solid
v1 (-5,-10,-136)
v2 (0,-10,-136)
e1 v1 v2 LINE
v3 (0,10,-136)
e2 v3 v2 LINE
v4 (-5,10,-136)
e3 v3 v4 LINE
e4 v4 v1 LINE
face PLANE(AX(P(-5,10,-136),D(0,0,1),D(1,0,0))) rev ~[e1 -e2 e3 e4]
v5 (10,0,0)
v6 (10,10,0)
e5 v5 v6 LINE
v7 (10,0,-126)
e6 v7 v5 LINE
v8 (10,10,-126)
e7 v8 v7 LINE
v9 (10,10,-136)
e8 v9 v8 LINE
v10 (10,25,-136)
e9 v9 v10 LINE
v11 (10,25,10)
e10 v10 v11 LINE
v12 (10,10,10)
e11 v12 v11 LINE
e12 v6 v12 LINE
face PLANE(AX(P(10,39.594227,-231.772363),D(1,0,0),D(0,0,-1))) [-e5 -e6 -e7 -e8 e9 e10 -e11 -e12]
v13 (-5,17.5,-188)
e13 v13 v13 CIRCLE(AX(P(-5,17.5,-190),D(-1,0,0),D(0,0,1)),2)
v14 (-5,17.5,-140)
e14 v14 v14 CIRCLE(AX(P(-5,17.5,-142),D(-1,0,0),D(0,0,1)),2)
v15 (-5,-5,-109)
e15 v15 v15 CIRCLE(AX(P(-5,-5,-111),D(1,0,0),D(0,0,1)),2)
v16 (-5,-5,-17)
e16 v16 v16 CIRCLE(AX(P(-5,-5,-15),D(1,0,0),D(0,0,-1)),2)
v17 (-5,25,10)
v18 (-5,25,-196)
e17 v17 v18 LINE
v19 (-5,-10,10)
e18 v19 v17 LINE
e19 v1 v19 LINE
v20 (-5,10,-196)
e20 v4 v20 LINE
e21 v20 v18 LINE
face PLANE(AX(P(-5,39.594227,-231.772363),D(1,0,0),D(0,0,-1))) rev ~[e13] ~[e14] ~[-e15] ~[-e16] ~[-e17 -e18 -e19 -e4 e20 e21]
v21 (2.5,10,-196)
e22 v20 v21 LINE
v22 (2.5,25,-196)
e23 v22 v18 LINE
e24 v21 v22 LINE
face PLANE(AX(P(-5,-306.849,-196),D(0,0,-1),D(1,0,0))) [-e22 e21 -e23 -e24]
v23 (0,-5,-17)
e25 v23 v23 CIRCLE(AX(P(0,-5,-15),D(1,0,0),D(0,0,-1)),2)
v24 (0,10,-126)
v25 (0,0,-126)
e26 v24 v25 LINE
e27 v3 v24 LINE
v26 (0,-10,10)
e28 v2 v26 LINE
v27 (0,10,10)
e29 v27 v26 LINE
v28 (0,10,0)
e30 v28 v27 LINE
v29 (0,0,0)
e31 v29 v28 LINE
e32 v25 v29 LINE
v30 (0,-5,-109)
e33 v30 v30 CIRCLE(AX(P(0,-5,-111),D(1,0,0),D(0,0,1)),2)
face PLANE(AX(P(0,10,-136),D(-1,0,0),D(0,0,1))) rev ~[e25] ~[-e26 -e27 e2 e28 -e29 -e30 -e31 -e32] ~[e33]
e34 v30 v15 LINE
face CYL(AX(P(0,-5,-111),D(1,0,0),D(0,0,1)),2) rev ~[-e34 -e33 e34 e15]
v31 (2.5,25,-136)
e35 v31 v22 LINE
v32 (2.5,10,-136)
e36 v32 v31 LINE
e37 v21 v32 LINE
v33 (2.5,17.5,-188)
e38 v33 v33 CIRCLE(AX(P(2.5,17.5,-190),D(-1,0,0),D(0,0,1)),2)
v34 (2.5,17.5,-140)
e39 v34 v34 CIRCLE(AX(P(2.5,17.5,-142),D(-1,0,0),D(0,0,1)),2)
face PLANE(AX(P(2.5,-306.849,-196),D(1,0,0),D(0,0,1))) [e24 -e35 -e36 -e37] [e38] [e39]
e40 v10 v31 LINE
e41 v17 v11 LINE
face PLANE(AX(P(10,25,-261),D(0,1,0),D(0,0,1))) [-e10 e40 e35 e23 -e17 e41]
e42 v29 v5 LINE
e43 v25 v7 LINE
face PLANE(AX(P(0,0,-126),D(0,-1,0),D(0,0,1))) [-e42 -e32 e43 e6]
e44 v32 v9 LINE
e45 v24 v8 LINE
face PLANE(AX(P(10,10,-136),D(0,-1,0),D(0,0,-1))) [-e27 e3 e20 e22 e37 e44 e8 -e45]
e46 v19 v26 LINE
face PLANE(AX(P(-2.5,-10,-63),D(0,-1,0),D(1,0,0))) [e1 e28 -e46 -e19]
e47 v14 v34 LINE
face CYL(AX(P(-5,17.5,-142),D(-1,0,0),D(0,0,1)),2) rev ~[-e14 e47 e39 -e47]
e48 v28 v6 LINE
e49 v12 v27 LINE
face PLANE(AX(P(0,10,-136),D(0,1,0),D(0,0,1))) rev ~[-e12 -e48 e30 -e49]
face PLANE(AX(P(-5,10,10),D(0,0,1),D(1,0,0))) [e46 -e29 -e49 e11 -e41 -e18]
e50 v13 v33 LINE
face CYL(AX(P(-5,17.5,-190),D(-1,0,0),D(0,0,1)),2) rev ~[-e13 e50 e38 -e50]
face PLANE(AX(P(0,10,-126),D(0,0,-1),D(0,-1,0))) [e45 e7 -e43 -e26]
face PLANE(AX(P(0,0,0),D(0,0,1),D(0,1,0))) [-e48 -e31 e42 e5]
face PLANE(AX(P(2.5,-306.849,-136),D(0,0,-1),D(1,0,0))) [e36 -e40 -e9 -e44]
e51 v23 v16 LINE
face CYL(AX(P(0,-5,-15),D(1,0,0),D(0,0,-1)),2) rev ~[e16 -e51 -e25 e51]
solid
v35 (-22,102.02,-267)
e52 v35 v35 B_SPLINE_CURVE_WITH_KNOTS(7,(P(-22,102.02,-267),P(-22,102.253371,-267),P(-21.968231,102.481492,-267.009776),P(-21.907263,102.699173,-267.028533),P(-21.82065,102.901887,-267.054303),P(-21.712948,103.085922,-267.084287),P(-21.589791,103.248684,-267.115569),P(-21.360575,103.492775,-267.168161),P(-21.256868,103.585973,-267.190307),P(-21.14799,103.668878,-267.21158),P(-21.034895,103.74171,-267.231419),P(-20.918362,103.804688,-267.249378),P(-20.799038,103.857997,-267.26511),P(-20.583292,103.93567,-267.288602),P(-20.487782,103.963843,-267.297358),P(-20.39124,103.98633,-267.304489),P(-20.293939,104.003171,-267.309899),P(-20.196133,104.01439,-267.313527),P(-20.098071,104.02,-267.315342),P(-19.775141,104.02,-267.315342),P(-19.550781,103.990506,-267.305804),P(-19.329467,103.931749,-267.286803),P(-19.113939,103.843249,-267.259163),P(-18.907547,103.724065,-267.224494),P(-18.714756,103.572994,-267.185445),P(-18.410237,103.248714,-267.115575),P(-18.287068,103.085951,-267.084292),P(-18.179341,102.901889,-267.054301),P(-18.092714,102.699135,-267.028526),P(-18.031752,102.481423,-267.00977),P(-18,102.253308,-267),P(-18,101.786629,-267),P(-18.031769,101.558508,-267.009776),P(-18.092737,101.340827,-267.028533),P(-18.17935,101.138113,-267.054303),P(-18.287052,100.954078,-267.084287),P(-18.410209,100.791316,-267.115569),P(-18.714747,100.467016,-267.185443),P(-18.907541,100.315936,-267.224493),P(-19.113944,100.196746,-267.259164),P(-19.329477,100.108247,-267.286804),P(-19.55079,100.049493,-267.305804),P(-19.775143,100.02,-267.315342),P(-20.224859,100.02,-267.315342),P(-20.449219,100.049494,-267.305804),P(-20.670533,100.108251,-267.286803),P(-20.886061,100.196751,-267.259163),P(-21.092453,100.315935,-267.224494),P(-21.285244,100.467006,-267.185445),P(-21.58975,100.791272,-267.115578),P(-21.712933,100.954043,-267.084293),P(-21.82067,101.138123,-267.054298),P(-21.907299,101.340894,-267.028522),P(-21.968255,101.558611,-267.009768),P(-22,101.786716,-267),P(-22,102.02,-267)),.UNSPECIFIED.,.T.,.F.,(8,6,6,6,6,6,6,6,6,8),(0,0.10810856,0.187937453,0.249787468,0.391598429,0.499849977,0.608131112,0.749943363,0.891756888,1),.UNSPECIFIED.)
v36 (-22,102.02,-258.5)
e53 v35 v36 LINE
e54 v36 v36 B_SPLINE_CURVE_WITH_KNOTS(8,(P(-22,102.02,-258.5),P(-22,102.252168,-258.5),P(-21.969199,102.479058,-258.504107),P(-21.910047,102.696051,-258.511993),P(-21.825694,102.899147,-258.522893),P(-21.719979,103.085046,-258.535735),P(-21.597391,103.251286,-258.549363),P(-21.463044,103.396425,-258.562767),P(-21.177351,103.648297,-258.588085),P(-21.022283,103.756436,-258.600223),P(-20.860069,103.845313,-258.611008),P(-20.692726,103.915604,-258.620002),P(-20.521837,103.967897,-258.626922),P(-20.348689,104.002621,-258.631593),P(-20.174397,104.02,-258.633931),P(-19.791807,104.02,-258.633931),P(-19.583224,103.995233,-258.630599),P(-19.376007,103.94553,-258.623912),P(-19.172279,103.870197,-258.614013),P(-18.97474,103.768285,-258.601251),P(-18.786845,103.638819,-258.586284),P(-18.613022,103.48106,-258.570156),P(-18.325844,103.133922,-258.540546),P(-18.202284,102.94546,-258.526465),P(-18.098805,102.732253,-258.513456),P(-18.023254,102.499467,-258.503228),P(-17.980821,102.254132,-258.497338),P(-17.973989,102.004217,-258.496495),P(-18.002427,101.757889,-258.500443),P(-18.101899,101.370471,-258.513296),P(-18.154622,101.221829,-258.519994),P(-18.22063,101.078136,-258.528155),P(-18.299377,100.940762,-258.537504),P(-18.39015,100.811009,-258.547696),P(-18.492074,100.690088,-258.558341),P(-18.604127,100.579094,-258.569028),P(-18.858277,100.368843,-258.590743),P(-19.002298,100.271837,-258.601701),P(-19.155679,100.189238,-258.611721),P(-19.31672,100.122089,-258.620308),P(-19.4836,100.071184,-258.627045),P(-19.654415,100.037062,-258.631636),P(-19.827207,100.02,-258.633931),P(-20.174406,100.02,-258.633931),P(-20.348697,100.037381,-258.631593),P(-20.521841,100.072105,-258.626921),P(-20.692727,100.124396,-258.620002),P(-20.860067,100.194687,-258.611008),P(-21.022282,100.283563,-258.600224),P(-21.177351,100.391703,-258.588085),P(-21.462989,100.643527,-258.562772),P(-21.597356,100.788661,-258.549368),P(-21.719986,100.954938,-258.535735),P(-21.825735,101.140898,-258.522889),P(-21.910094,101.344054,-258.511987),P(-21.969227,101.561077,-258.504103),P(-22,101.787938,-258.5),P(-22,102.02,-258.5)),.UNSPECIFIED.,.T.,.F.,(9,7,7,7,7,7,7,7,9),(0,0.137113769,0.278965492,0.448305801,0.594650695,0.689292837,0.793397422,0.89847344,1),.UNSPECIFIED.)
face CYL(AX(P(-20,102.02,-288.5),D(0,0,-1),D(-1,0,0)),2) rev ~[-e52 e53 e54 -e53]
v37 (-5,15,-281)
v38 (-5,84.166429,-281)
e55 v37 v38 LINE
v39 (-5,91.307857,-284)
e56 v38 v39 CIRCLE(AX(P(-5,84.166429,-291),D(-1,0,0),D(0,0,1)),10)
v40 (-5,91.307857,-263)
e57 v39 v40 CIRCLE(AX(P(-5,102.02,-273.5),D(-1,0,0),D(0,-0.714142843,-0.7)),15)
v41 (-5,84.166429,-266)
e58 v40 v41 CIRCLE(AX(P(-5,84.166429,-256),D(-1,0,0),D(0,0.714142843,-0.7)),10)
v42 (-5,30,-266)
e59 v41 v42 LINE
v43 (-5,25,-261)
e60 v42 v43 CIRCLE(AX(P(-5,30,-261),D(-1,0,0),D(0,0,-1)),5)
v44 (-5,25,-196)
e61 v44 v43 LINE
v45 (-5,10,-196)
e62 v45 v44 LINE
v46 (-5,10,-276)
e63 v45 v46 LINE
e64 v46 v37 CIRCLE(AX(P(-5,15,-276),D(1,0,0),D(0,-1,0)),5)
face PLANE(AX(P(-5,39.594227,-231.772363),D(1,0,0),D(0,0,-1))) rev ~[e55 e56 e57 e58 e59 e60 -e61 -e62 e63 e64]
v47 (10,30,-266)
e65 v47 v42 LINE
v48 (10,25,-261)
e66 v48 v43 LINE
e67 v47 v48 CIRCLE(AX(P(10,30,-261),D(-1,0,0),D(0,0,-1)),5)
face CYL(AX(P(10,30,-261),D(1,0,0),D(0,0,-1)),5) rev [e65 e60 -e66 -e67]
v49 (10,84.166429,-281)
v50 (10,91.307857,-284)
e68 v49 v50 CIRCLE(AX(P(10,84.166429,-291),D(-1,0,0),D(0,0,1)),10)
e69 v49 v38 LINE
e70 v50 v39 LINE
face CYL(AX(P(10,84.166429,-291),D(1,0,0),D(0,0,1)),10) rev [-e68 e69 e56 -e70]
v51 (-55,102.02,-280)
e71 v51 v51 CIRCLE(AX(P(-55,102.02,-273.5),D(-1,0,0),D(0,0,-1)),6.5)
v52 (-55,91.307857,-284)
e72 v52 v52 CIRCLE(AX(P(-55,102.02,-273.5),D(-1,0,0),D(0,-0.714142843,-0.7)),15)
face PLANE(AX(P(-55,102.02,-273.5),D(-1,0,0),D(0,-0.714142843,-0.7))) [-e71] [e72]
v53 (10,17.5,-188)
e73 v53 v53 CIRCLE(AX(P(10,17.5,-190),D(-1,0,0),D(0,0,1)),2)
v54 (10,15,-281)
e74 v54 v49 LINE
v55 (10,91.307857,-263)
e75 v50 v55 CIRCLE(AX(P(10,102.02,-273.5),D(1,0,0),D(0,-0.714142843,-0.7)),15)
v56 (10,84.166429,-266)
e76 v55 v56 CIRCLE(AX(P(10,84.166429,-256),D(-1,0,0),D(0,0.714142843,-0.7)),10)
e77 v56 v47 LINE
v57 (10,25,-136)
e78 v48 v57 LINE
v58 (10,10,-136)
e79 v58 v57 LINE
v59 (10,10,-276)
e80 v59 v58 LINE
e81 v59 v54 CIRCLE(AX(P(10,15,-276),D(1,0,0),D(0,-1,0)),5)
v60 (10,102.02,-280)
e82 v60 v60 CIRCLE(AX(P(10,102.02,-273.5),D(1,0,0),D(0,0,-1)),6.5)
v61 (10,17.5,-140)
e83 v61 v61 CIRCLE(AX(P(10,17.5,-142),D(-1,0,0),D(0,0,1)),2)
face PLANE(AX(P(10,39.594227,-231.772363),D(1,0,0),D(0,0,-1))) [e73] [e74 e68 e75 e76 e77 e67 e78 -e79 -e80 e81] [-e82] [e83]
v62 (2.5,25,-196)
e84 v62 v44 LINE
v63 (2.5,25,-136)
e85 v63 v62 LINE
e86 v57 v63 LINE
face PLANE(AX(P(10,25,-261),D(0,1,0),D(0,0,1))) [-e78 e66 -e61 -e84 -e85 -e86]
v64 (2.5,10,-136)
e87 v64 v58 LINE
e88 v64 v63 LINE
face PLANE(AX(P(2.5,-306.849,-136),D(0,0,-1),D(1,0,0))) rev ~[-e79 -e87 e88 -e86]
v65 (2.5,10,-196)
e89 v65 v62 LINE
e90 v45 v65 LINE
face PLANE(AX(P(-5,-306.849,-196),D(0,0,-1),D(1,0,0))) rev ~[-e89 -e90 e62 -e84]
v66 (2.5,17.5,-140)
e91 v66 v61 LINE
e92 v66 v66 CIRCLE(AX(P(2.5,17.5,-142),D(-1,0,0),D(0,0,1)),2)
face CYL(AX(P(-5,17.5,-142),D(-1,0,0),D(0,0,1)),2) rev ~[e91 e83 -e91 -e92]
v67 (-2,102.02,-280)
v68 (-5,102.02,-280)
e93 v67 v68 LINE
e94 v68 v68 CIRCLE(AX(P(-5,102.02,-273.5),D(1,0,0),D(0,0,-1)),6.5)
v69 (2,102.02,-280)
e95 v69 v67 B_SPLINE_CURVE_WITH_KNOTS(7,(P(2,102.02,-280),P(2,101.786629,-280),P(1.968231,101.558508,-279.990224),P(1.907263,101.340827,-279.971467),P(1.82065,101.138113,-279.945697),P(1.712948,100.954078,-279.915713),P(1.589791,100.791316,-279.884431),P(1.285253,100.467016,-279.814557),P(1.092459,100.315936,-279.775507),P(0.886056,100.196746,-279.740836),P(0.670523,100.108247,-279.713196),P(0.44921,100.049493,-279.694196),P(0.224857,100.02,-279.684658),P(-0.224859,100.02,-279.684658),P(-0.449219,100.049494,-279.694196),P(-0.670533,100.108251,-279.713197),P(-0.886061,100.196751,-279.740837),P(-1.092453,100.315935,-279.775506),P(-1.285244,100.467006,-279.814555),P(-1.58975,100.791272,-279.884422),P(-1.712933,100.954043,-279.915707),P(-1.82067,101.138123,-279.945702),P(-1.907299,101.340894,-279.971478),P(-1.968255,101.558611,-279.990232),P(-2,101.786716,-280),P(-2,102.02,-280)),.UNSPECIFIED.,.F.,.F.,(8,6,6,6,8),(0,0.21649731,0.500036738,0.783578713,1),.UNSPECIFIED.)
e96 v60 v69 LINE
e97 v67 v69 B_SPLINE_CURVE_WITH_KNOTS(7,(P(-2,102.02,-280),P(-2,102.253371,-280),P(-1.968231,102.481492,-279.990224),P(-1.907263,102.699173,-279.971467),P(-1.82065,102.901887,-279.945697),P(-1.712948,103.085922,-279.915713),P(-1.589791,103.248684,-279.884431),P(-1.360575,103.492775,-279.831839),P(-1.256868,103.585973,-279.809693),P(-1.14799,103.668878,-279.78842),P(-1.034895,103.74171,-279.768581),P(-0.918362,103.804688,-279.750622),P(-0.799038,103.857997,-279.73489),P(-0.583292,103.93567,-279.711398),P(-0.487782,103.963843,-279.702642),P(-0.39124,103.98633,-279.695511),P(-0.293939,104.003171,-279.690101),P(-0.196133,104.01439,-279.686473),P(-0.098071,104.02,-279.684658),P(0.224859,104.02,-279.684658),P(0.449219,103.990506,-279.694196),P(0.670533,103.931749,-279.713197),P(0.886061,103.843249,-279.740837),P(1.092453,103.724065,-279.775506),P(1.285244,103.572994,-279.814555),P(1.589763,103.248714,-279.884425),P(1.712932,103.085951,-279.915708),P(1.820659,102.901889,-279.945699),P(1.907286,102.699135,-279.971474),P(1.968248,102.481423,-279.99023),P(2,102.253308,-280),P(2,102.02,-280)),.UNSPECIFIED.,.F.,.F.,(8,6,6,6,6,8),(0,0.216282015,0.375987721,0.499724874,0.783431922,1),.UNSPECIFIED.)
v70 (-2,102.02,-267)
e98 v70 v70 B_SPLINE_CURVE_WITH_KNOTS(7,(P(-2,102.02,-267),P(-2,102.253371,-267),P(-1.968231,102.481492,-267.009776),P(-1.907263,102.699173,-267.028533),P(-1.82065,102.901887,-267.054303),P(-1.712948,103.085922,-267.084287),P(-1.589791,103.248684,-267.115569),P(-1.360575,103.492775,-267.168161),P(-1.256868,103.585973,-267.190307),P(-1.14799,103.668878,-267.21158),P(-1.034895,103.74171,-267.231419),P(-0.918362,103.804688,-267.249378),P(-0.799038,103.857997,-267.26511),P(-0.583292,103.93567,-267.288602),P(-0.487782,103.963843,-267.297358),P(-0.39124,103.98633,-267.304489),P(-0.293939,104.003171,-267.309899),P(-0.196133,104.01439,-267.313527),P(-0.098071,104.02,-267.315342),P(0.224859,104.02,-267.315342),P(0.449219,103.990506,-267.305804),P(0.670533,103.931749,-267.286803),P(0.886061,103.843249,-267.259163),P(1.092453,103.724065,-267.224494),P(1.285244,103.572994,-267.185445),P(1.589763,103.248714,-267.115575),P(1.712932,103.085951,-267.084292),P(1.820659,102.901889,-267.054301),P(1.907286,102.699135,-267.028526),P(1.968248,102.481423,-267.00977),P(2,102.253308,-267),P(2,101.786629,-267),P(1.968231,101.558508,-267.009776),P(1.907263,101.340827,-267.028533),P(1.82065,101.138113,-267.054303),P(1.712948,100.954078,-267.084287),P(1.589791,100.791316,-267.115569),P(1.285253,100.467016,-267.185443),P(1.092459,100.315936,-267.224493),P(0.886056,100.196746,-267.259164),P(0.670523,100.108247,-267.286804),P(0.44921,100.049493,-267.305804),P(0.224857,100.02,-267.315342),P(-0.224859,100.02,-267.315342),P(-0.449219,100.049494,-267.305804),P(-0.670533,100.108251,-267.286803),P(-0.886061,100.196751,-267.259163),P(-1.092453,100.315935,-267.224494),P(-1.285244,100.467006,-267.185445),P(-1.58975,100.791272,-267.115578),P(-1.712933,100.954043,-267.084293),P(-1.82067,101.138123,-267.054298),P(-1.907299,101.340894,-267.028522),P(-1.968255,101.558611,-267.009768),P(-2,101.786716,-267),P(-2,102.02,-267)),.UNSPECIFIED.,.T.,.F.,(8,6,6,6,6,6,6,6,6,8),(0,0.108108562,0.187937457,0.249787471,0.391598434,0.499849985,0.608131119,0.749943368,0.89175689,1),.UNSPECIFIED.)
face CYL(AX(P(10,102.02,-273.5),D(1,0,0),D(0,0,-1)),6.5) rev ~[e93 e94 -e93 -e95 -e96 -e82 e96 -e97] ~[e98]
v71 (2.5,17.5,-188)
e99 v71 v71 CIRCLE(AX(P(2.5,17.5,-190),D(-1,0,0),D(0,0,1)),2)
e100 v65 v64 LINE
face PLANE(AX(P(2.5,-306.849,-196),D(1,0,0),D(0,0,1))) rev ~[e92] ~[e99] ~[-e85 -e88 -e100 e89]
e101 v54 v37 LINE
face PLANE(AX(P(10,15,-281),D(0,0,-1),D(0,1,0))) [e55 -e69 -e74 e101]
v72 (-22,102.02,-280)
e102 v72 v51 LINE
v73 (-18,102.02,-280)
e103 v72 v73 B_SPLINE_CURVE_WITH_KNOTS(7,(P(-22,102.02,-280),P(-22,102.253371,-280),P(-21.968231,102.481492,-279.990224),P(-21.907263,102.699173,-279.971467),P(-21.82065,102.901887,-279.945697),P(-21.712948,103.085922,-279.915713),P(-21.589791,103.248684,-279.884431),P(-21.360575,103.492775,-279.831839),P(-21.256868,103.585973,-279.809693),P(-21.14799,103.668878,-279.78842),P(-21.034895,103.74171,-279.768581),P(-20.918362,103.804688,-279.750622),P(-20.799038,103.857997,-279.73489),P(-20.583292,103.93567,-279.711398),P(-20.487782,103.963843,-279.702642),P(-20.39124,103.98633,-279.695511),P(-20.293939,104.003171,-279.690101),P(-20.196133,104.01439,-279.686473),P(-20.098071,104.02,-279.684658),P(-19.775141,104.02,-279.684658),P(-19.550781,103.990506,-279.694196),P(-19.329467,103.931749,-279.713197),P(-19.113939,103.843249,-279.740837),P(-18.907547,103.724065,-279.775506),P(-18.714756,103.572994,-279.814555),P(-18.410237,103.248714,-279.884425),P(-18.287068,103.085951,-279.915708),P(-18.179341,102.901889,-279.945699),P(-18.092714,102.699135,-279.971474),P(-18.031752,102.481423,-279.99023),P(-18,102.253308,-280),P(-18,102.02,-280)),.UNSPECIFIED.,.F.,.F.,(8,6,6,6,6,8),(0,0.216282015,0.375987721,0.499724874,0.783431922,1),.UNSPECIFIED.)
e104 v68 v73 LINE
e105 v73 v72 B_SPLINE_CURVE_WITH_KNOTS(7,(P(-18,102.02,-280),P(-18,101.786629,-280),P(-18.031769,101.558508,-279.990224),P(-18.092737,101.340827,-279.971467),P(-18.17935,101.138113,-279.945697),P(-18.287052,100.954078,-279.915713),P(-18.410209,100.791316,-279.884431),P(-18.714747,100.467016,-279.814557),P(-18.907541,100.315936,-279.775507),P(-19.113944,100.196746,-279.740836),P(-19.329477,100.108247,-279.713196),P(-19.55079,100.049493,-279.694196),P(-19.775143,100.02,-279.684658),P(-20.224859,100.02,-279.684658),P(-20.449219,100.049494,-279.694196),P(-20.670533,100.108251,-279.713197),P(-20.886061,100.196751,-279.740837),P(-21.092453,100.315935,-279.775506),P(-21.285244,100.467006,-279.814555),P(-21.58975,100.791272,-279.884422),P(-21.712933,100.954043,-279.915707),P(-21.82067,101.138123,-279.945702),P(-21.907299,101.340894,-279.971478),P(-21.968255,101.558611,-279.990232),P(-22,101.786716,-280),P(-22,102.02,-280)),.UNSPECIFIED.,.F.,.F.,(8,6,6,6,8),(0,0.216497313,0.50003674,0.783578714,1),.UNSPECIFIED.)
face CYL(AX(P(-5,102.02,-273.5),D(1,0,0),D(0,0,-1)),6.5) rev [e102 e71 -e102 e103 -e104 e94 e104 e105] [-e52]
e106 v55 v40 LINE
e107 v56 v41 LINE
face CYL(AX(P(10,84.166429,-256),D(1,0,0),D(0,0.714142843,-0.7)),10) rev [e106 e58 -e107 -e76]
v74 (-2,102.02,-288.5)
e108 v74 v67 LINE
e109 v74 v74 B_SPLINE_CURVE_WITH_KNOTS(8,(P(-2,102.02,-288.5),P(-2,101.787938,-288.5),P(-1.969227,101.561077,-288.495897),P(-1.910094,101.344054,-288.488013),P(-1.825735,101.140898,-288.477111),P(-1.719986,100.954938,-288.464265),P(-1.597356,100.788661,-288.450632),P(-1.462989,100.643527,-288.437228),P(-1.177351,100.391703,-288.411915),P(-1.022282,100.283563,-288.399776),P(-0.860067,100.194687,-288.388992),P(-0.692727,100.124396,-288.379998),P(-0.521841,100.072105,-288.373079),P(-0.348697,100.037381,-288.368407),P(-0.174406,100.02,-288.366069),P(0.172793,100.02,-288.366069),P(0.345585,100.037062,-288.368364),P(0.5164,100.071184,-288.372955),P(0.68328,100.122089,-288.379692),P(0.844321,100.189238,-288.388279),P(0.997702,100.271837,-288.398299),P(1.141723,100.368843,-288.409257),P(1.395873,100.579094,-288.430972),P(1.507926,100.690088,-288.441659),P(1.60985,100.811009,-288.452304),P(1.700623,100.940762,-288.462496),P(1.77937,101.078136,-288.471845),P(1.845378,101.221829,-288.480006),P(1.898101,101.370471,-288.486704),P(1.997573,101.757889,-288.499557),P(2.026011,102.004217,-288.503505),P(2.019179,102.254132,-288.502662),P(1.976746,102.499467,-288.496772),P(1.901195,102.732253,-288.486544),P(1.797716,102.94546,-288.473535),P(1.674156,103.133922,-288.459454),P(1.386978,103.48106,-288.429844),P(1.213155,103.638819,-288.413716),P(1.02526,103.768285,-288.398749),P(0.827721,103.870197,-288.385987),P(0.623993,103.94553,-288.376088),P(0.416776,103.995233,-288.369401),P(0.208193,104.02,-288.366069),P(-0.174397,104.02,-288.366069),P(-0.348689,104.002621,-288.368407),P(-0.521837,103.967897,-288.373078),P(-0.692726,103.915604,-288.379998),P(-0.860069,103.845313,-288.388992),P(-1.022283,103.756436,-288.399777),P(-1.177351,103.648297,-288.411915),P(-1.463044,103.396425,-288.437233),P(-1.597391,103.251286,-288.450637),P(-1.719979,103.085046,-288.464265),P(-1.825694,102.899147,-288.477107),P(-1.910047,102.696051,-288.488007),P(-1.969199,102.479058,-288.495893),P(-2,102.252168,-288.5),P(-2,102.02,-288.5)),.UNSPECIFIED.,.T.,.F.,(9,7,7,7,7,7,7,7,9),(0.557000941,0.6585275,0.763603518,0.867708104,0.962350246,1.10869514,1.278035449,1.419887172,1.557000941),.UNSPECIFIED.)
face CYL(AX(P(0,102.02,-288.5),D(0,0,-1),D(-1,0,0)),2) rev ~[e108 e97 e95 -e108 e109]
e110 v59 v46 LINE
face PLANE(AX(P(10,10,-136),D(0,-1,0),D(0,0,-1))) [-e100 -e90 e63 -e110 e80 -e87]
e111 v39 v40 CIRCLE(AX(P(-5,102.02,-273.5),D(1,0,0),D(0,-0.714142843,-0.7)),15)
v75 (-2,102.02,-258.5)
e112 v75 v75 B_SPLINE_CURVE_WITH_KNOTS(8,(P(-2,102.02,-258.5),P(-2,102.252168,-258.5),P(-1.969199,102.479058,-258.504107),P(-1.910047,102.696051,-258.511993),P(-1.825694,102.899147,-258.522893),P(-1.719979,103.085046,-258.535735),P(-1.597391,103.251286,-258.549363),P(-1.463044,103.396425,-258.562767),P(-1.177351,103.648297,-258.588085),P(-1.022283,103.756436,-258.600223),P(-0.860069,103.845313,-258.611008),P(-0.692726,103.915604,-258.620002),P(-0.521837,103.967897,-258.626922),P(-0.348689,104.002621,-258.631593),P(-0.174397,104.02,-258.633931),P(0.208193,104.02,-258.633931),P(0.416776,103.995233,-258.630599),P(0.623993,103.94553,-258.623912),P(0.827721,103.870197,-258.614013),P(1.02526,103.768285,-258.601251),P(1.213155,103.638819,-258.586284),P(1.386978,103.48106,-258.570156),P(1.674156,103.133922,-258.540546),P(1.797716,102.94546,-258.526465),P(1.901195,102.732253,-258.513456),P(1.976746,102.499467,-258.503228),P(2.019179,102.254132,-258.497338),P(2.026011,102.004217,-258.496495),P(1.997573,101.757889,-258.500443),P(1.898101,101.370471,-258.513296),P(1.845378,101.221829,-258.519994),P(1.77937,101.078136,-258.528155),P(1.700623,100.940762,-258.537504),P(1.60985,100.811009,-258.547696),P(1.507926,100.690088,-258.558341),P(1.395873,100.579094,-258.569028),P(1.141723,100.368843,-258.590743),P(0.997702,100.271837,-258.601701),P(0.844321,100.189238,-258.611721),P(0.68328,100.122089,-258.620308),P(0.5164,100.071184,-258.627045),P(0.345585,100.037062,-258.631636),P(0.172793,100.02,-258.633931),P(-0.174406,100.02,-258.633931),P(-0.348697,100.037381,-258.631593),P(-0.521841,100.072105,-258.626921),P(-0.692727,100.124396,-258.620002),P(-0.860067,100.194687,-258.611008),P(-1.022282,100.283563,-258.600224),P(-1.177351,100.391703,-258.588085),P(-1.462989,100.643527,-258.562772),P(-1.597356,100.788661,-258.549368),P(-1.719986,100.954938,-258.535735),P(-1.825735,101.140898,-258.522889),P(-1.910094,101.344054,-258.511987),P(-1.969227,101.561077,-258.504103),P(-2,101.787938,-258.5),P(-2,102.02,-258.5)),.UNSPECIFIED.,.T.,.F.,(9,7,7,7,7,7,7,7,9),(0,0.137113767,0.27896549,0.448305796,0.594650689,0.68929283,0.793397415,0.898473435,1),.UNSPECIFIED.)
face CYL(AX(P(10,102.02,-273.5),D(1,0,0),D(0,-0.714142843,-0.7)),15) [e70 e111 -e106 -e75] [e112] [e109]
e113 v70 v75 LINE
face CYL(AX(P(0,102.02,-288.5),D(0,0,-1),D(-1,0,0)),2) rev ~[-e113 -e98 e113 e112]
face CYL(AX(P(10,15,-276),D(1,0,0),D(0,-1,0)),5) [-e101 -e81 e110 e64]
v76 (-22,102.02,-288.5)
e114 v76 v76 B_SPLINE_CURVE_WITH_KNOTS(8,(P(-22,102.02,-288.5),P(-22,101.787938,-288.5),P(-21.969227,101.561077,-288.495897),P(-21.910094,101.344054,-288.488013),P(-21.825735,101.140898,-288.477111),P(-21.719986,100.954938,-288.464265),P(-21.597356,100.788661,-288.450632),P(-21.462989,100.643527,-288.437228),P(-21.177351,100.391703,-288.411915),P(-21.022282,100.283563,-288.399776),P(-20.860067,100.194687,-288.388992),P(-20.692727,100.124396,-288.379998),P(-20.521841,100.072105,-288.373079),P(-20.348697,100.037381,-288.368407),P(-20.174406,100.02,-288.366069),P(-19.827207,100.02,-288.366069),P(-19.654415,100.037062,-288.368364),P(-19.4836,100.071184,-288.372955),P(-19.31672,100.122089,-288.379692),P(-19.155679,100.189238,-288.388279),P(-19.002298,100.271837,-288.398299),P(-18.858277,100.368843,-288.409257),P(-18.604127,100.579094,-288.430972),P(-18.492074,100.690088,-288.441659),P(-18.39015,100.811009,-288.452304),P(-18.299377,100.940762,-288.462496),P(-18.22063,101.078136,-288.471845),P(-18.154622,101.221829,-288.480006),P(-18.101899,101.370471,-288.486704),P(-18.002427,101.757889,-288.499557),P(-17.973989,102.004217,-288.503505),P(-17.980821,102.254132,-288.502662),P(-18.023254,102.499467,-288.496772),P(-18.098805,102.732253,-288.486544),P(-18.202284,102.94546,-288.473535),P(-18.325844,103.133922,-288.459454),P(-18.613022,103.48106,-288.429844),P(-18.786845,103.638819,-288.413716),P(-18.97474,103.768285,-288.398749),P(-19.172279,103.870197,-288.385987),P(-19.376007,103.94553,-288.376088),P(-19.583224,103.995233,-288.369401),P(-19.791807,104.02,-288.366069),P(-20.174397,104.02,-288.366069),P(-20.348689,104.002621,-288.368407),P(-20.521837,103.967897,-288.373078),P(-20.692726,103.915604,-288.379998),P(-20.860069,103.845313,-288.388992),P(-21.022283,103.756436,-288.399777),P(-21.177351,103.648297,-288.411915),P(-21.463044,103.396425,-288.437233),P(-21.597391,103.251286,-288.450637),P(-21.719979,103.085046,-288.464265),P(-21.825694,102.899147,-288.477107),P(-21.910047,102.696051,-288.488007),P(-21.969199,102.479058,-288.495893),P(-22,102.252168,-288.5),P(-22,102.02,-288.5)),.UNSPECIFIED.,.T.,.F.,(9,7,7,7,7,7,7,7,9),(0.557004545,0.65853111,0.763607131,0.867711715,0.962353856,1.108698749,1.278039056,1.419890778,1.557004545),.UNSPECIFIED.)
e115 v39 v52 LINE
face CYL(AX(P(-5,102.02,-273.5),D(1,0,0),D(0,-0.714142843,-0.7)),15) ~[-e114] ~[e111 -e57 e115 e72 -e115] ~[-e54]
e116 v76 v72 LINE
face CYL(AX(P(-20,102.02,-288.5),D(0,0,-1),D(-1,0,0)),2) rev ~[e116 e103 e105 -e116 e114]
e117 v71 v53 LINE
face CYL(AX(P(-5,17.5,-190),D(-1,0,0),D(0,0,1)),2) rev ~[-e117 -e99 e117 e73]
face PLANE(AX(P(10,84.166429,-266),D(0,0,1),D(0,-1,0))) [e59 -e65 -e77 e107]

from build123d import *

# Parameters (mm, degrees)
BOSS_EXTRUDE3_DEPTH    = 10
SKETCH8_W              = 146
SKETCH8_H              = 15
BOSS_EXTRUDE6_DEPTH    = 5
SKETCH9_W              = 5
SKETCH9_H              = 146
BOSS_EXTRUDE7_DEPTH    = 20
SKETCH10_R             = 2
CUT_EXTRUDE2_DEPTH     = 20
SKETCH5_R              = 6.5
BOSS_EXTRUDE4_DEPTH    = 15
SKETCH6_R              = 15
SKETCH6_R_2            = 6.5
BOSS_EXTRUDE5_DEPTH    = 50
SKETCH7_R              = 2
CUT_EXTRUDE1_DEPTH     = 50
SKETCH13_R             = 2
CUT_EXTRUDE3_DEPTH     = 20
SPLIT2_SURFACE_1_BACK  = 331.849
SPLIT2_SURFACE_1_DEPTH = 663.698
SPLIT2_SURFACE_2_BACK  = 331.849
SPLIT2_SURFACE_2_DEPTH = 663.698


with BuildPart() as part:
    # Sketch4 → Boss-Extrude3 (new body)
    with BuildSketch(Plane(origin=(0, 0, 0), x_dir=(0, 0, -1), z_dir=(1, 0, 0))):
        Polygon((0, 10), (-10, 10), (-10, 25), (136, 25), (136, 10), (126, 10), (126, 0), (0, 0), align=None)
    extrude(amount=BOSS_EXTRUDE3_DEPTH)

    # Sketch8 → Boss-Extrude6 (add)
    with BuildSketch(Plane.ZY):
        with Locations((-63, 17.5)):
            Rectangle(SKETCH8_W, SKETCH8_H)
    extrude(amount=BOSS_EXTRUDE6_DEPTH)

    # Sketch9 → Boss-Extrude7 (add)
    with BuildSketch(Plane.XZ.offset(-10)):
        with Locations((-2.5, -63)):
            Rectangle(SKETCH9_W, SKETCH9_H)
    extrude(amount=BOSS_EXTRUDE7_DEPTH)

    # Sketch10 → Cut-Extrude2 (cut)
    with BuildSketch(Plane(origin=(0, 0, 0), x_dir=(0, 0, -1), z_dir=(1, 0, 0))):
        with Locations((15, -5)):
            Circle(SKETCH10_R)
        with Locations(Location((111, -5, 0), (0, 0, 180))):
            Circle(SKETCH10_R)
    extrude(amount=-CUT_EXTRUDE2_DEPTH, mode=Mode.SUBTRACT)

    # Sketch5 → Boss-Extrude4 (add)
    with BuildSketch(Plane(origin=(10, 0, 0), x_dir=(0, 0, -1), z_dir=(1, 0, 0))):
        with BuildLine():
            Line((136, 10), (266, 10))
            Line((266, 10), (276, 10))
            ThreePointArc((276, 10), (279.535533906, 11.464466094), (281, 15))
            Line((281, 15), (281, 84.166428929))
            ThreePointArc((281, 84.166428929), (281.780455543, 88.039412275), (284, 91.307857357))
            ThreePointArc((284, 91.307857357), (273.5, 117.02), (263, 91.307857357))
            ThreePointArc((263, 91.307857357), (265.219544457, 88.039412275), (266, 84.166428929))
            Line((266, 84.166428929), (266, 30))
            ThreePointArc((266, 30), (264.535533906, 26.464466094), (261, 25))
            Line((261, 25), (136, 25))
            Line((136, 25), (136, 10))
        make_face()
        with Locations((273.5, 102.02)):
            Circle(SKETCH5_R, mode=Mode.SUBTRACT)
    extrude(amount=-BOSS_EXTRUDE4_DEPTH)

    # Sketch6 → Boss-Extrude5 (add)
    with BuildSketch(Plane.ZY.offset(5)):
        with Locations(Location((-273.5, 102.02, 0), (0, 0, 225.572995999))):
            Circle(SKETCH6_R)
        with Locations(Location((-273.5, 102.02, 0), (0, 0, 180))):
            Circle(SKETCH6_R_2, mode=Mode.SUBTRACT)
    extrude(amount=BOSS_EXTRUDE5_DEPTH)

    # Sketch7 → Cut-Extrude1 (cut)
    with BuildSketch(Plane(origin=(0, 0, -288.5), x_dir=(-1, 0, 0), z_dir=(0, 0, -1))):
        with Locations((20, 102.02)):
            Circle(SKETCH7_R)
        with Locations((0, 102.02)):
            Circle(SKETCH7_R)
    extrude(amount=-CUT_EXTRUDE1_DEPTH, mode=Mode.SUBTRACT)

    # Sketch13 → Cut-Extrude3 (cut)
    with BuildSketch(Plane.ZY.offset(5)):
        with Locations((-190, 17.5)):
            Circle(SKETCH13_R)
        with Locations((-142, 17.5)):
            Circle(SKETCH13_R)
    extrude(amount=-CUT_EXTRUDE3_DEPTH, mode=Mode.SUBTRACT)


with BuildPart() as body_2:
    # Split2: the piece behind the surface
    add(part.part)
    # Split2 surface: a surface, the sketch's curves swept straight by 663.698 mm
    with BuildLine(Plane(origin=(0, 25, 0), x_dir=(1, 0, 0), z_dir=(0, 1, 0)).offset(-SPLIT2_SURFACE_1_BACK), mode=Mode.PRIVATE) as split2_surface_1_path:
        Line((-5, 196), (2.5, 196))
        Line((2.5, 196), (2.5, 136))
        Line((2.5, 136), (10, 136))
    split2_surface_1 = Shell.extrude(split2_surface_1_path.wire(), (0 * SPLIT2_SURFACE_1_DEPTH, 1 * SPLIT2_SURFACE_1_DEPTH, 0 * SPLIT2_SURFACE_1_DEPTH))
    split(bisect_by=split2_surface_1, keep=Keep.BOTTOM)


with BuildPart() as part_1:
    add(part.part)

    # Split2: split by a surface, the side it looks to stays
    # Split2 surface: a surface, the sketch's curves swept straight by 663.698 mm
    with BuildLine(Plane(origin=(0, 25, 0), x_dir=(1, 0, 0), z_dir=(0, 1, 0)).offset(-SPLIT2_SURFACE_2_BACK), mode=Mode.PRIVATE) as split2_surface_2_path:
        Line((-5, 196), (2.5, 196))
        Line((2.5, 196), (2.5, 136))
        Line((2.5, 136), (10, 136))
    split2_surface_2 = Shell.extrude(split2_surface_2_path.wire(), (0 * SPLIT2_SURFACE_2_DEPTH, 1 * SPLIT2_SURFACE_2_DEPTH, 0 * SPLIT2_SURFACE_2_DEPTH))
    split(bisect_by=split2_surface_2, keep=Keep.TOP)


solid = Compound([body_2.part, part_1.part])
